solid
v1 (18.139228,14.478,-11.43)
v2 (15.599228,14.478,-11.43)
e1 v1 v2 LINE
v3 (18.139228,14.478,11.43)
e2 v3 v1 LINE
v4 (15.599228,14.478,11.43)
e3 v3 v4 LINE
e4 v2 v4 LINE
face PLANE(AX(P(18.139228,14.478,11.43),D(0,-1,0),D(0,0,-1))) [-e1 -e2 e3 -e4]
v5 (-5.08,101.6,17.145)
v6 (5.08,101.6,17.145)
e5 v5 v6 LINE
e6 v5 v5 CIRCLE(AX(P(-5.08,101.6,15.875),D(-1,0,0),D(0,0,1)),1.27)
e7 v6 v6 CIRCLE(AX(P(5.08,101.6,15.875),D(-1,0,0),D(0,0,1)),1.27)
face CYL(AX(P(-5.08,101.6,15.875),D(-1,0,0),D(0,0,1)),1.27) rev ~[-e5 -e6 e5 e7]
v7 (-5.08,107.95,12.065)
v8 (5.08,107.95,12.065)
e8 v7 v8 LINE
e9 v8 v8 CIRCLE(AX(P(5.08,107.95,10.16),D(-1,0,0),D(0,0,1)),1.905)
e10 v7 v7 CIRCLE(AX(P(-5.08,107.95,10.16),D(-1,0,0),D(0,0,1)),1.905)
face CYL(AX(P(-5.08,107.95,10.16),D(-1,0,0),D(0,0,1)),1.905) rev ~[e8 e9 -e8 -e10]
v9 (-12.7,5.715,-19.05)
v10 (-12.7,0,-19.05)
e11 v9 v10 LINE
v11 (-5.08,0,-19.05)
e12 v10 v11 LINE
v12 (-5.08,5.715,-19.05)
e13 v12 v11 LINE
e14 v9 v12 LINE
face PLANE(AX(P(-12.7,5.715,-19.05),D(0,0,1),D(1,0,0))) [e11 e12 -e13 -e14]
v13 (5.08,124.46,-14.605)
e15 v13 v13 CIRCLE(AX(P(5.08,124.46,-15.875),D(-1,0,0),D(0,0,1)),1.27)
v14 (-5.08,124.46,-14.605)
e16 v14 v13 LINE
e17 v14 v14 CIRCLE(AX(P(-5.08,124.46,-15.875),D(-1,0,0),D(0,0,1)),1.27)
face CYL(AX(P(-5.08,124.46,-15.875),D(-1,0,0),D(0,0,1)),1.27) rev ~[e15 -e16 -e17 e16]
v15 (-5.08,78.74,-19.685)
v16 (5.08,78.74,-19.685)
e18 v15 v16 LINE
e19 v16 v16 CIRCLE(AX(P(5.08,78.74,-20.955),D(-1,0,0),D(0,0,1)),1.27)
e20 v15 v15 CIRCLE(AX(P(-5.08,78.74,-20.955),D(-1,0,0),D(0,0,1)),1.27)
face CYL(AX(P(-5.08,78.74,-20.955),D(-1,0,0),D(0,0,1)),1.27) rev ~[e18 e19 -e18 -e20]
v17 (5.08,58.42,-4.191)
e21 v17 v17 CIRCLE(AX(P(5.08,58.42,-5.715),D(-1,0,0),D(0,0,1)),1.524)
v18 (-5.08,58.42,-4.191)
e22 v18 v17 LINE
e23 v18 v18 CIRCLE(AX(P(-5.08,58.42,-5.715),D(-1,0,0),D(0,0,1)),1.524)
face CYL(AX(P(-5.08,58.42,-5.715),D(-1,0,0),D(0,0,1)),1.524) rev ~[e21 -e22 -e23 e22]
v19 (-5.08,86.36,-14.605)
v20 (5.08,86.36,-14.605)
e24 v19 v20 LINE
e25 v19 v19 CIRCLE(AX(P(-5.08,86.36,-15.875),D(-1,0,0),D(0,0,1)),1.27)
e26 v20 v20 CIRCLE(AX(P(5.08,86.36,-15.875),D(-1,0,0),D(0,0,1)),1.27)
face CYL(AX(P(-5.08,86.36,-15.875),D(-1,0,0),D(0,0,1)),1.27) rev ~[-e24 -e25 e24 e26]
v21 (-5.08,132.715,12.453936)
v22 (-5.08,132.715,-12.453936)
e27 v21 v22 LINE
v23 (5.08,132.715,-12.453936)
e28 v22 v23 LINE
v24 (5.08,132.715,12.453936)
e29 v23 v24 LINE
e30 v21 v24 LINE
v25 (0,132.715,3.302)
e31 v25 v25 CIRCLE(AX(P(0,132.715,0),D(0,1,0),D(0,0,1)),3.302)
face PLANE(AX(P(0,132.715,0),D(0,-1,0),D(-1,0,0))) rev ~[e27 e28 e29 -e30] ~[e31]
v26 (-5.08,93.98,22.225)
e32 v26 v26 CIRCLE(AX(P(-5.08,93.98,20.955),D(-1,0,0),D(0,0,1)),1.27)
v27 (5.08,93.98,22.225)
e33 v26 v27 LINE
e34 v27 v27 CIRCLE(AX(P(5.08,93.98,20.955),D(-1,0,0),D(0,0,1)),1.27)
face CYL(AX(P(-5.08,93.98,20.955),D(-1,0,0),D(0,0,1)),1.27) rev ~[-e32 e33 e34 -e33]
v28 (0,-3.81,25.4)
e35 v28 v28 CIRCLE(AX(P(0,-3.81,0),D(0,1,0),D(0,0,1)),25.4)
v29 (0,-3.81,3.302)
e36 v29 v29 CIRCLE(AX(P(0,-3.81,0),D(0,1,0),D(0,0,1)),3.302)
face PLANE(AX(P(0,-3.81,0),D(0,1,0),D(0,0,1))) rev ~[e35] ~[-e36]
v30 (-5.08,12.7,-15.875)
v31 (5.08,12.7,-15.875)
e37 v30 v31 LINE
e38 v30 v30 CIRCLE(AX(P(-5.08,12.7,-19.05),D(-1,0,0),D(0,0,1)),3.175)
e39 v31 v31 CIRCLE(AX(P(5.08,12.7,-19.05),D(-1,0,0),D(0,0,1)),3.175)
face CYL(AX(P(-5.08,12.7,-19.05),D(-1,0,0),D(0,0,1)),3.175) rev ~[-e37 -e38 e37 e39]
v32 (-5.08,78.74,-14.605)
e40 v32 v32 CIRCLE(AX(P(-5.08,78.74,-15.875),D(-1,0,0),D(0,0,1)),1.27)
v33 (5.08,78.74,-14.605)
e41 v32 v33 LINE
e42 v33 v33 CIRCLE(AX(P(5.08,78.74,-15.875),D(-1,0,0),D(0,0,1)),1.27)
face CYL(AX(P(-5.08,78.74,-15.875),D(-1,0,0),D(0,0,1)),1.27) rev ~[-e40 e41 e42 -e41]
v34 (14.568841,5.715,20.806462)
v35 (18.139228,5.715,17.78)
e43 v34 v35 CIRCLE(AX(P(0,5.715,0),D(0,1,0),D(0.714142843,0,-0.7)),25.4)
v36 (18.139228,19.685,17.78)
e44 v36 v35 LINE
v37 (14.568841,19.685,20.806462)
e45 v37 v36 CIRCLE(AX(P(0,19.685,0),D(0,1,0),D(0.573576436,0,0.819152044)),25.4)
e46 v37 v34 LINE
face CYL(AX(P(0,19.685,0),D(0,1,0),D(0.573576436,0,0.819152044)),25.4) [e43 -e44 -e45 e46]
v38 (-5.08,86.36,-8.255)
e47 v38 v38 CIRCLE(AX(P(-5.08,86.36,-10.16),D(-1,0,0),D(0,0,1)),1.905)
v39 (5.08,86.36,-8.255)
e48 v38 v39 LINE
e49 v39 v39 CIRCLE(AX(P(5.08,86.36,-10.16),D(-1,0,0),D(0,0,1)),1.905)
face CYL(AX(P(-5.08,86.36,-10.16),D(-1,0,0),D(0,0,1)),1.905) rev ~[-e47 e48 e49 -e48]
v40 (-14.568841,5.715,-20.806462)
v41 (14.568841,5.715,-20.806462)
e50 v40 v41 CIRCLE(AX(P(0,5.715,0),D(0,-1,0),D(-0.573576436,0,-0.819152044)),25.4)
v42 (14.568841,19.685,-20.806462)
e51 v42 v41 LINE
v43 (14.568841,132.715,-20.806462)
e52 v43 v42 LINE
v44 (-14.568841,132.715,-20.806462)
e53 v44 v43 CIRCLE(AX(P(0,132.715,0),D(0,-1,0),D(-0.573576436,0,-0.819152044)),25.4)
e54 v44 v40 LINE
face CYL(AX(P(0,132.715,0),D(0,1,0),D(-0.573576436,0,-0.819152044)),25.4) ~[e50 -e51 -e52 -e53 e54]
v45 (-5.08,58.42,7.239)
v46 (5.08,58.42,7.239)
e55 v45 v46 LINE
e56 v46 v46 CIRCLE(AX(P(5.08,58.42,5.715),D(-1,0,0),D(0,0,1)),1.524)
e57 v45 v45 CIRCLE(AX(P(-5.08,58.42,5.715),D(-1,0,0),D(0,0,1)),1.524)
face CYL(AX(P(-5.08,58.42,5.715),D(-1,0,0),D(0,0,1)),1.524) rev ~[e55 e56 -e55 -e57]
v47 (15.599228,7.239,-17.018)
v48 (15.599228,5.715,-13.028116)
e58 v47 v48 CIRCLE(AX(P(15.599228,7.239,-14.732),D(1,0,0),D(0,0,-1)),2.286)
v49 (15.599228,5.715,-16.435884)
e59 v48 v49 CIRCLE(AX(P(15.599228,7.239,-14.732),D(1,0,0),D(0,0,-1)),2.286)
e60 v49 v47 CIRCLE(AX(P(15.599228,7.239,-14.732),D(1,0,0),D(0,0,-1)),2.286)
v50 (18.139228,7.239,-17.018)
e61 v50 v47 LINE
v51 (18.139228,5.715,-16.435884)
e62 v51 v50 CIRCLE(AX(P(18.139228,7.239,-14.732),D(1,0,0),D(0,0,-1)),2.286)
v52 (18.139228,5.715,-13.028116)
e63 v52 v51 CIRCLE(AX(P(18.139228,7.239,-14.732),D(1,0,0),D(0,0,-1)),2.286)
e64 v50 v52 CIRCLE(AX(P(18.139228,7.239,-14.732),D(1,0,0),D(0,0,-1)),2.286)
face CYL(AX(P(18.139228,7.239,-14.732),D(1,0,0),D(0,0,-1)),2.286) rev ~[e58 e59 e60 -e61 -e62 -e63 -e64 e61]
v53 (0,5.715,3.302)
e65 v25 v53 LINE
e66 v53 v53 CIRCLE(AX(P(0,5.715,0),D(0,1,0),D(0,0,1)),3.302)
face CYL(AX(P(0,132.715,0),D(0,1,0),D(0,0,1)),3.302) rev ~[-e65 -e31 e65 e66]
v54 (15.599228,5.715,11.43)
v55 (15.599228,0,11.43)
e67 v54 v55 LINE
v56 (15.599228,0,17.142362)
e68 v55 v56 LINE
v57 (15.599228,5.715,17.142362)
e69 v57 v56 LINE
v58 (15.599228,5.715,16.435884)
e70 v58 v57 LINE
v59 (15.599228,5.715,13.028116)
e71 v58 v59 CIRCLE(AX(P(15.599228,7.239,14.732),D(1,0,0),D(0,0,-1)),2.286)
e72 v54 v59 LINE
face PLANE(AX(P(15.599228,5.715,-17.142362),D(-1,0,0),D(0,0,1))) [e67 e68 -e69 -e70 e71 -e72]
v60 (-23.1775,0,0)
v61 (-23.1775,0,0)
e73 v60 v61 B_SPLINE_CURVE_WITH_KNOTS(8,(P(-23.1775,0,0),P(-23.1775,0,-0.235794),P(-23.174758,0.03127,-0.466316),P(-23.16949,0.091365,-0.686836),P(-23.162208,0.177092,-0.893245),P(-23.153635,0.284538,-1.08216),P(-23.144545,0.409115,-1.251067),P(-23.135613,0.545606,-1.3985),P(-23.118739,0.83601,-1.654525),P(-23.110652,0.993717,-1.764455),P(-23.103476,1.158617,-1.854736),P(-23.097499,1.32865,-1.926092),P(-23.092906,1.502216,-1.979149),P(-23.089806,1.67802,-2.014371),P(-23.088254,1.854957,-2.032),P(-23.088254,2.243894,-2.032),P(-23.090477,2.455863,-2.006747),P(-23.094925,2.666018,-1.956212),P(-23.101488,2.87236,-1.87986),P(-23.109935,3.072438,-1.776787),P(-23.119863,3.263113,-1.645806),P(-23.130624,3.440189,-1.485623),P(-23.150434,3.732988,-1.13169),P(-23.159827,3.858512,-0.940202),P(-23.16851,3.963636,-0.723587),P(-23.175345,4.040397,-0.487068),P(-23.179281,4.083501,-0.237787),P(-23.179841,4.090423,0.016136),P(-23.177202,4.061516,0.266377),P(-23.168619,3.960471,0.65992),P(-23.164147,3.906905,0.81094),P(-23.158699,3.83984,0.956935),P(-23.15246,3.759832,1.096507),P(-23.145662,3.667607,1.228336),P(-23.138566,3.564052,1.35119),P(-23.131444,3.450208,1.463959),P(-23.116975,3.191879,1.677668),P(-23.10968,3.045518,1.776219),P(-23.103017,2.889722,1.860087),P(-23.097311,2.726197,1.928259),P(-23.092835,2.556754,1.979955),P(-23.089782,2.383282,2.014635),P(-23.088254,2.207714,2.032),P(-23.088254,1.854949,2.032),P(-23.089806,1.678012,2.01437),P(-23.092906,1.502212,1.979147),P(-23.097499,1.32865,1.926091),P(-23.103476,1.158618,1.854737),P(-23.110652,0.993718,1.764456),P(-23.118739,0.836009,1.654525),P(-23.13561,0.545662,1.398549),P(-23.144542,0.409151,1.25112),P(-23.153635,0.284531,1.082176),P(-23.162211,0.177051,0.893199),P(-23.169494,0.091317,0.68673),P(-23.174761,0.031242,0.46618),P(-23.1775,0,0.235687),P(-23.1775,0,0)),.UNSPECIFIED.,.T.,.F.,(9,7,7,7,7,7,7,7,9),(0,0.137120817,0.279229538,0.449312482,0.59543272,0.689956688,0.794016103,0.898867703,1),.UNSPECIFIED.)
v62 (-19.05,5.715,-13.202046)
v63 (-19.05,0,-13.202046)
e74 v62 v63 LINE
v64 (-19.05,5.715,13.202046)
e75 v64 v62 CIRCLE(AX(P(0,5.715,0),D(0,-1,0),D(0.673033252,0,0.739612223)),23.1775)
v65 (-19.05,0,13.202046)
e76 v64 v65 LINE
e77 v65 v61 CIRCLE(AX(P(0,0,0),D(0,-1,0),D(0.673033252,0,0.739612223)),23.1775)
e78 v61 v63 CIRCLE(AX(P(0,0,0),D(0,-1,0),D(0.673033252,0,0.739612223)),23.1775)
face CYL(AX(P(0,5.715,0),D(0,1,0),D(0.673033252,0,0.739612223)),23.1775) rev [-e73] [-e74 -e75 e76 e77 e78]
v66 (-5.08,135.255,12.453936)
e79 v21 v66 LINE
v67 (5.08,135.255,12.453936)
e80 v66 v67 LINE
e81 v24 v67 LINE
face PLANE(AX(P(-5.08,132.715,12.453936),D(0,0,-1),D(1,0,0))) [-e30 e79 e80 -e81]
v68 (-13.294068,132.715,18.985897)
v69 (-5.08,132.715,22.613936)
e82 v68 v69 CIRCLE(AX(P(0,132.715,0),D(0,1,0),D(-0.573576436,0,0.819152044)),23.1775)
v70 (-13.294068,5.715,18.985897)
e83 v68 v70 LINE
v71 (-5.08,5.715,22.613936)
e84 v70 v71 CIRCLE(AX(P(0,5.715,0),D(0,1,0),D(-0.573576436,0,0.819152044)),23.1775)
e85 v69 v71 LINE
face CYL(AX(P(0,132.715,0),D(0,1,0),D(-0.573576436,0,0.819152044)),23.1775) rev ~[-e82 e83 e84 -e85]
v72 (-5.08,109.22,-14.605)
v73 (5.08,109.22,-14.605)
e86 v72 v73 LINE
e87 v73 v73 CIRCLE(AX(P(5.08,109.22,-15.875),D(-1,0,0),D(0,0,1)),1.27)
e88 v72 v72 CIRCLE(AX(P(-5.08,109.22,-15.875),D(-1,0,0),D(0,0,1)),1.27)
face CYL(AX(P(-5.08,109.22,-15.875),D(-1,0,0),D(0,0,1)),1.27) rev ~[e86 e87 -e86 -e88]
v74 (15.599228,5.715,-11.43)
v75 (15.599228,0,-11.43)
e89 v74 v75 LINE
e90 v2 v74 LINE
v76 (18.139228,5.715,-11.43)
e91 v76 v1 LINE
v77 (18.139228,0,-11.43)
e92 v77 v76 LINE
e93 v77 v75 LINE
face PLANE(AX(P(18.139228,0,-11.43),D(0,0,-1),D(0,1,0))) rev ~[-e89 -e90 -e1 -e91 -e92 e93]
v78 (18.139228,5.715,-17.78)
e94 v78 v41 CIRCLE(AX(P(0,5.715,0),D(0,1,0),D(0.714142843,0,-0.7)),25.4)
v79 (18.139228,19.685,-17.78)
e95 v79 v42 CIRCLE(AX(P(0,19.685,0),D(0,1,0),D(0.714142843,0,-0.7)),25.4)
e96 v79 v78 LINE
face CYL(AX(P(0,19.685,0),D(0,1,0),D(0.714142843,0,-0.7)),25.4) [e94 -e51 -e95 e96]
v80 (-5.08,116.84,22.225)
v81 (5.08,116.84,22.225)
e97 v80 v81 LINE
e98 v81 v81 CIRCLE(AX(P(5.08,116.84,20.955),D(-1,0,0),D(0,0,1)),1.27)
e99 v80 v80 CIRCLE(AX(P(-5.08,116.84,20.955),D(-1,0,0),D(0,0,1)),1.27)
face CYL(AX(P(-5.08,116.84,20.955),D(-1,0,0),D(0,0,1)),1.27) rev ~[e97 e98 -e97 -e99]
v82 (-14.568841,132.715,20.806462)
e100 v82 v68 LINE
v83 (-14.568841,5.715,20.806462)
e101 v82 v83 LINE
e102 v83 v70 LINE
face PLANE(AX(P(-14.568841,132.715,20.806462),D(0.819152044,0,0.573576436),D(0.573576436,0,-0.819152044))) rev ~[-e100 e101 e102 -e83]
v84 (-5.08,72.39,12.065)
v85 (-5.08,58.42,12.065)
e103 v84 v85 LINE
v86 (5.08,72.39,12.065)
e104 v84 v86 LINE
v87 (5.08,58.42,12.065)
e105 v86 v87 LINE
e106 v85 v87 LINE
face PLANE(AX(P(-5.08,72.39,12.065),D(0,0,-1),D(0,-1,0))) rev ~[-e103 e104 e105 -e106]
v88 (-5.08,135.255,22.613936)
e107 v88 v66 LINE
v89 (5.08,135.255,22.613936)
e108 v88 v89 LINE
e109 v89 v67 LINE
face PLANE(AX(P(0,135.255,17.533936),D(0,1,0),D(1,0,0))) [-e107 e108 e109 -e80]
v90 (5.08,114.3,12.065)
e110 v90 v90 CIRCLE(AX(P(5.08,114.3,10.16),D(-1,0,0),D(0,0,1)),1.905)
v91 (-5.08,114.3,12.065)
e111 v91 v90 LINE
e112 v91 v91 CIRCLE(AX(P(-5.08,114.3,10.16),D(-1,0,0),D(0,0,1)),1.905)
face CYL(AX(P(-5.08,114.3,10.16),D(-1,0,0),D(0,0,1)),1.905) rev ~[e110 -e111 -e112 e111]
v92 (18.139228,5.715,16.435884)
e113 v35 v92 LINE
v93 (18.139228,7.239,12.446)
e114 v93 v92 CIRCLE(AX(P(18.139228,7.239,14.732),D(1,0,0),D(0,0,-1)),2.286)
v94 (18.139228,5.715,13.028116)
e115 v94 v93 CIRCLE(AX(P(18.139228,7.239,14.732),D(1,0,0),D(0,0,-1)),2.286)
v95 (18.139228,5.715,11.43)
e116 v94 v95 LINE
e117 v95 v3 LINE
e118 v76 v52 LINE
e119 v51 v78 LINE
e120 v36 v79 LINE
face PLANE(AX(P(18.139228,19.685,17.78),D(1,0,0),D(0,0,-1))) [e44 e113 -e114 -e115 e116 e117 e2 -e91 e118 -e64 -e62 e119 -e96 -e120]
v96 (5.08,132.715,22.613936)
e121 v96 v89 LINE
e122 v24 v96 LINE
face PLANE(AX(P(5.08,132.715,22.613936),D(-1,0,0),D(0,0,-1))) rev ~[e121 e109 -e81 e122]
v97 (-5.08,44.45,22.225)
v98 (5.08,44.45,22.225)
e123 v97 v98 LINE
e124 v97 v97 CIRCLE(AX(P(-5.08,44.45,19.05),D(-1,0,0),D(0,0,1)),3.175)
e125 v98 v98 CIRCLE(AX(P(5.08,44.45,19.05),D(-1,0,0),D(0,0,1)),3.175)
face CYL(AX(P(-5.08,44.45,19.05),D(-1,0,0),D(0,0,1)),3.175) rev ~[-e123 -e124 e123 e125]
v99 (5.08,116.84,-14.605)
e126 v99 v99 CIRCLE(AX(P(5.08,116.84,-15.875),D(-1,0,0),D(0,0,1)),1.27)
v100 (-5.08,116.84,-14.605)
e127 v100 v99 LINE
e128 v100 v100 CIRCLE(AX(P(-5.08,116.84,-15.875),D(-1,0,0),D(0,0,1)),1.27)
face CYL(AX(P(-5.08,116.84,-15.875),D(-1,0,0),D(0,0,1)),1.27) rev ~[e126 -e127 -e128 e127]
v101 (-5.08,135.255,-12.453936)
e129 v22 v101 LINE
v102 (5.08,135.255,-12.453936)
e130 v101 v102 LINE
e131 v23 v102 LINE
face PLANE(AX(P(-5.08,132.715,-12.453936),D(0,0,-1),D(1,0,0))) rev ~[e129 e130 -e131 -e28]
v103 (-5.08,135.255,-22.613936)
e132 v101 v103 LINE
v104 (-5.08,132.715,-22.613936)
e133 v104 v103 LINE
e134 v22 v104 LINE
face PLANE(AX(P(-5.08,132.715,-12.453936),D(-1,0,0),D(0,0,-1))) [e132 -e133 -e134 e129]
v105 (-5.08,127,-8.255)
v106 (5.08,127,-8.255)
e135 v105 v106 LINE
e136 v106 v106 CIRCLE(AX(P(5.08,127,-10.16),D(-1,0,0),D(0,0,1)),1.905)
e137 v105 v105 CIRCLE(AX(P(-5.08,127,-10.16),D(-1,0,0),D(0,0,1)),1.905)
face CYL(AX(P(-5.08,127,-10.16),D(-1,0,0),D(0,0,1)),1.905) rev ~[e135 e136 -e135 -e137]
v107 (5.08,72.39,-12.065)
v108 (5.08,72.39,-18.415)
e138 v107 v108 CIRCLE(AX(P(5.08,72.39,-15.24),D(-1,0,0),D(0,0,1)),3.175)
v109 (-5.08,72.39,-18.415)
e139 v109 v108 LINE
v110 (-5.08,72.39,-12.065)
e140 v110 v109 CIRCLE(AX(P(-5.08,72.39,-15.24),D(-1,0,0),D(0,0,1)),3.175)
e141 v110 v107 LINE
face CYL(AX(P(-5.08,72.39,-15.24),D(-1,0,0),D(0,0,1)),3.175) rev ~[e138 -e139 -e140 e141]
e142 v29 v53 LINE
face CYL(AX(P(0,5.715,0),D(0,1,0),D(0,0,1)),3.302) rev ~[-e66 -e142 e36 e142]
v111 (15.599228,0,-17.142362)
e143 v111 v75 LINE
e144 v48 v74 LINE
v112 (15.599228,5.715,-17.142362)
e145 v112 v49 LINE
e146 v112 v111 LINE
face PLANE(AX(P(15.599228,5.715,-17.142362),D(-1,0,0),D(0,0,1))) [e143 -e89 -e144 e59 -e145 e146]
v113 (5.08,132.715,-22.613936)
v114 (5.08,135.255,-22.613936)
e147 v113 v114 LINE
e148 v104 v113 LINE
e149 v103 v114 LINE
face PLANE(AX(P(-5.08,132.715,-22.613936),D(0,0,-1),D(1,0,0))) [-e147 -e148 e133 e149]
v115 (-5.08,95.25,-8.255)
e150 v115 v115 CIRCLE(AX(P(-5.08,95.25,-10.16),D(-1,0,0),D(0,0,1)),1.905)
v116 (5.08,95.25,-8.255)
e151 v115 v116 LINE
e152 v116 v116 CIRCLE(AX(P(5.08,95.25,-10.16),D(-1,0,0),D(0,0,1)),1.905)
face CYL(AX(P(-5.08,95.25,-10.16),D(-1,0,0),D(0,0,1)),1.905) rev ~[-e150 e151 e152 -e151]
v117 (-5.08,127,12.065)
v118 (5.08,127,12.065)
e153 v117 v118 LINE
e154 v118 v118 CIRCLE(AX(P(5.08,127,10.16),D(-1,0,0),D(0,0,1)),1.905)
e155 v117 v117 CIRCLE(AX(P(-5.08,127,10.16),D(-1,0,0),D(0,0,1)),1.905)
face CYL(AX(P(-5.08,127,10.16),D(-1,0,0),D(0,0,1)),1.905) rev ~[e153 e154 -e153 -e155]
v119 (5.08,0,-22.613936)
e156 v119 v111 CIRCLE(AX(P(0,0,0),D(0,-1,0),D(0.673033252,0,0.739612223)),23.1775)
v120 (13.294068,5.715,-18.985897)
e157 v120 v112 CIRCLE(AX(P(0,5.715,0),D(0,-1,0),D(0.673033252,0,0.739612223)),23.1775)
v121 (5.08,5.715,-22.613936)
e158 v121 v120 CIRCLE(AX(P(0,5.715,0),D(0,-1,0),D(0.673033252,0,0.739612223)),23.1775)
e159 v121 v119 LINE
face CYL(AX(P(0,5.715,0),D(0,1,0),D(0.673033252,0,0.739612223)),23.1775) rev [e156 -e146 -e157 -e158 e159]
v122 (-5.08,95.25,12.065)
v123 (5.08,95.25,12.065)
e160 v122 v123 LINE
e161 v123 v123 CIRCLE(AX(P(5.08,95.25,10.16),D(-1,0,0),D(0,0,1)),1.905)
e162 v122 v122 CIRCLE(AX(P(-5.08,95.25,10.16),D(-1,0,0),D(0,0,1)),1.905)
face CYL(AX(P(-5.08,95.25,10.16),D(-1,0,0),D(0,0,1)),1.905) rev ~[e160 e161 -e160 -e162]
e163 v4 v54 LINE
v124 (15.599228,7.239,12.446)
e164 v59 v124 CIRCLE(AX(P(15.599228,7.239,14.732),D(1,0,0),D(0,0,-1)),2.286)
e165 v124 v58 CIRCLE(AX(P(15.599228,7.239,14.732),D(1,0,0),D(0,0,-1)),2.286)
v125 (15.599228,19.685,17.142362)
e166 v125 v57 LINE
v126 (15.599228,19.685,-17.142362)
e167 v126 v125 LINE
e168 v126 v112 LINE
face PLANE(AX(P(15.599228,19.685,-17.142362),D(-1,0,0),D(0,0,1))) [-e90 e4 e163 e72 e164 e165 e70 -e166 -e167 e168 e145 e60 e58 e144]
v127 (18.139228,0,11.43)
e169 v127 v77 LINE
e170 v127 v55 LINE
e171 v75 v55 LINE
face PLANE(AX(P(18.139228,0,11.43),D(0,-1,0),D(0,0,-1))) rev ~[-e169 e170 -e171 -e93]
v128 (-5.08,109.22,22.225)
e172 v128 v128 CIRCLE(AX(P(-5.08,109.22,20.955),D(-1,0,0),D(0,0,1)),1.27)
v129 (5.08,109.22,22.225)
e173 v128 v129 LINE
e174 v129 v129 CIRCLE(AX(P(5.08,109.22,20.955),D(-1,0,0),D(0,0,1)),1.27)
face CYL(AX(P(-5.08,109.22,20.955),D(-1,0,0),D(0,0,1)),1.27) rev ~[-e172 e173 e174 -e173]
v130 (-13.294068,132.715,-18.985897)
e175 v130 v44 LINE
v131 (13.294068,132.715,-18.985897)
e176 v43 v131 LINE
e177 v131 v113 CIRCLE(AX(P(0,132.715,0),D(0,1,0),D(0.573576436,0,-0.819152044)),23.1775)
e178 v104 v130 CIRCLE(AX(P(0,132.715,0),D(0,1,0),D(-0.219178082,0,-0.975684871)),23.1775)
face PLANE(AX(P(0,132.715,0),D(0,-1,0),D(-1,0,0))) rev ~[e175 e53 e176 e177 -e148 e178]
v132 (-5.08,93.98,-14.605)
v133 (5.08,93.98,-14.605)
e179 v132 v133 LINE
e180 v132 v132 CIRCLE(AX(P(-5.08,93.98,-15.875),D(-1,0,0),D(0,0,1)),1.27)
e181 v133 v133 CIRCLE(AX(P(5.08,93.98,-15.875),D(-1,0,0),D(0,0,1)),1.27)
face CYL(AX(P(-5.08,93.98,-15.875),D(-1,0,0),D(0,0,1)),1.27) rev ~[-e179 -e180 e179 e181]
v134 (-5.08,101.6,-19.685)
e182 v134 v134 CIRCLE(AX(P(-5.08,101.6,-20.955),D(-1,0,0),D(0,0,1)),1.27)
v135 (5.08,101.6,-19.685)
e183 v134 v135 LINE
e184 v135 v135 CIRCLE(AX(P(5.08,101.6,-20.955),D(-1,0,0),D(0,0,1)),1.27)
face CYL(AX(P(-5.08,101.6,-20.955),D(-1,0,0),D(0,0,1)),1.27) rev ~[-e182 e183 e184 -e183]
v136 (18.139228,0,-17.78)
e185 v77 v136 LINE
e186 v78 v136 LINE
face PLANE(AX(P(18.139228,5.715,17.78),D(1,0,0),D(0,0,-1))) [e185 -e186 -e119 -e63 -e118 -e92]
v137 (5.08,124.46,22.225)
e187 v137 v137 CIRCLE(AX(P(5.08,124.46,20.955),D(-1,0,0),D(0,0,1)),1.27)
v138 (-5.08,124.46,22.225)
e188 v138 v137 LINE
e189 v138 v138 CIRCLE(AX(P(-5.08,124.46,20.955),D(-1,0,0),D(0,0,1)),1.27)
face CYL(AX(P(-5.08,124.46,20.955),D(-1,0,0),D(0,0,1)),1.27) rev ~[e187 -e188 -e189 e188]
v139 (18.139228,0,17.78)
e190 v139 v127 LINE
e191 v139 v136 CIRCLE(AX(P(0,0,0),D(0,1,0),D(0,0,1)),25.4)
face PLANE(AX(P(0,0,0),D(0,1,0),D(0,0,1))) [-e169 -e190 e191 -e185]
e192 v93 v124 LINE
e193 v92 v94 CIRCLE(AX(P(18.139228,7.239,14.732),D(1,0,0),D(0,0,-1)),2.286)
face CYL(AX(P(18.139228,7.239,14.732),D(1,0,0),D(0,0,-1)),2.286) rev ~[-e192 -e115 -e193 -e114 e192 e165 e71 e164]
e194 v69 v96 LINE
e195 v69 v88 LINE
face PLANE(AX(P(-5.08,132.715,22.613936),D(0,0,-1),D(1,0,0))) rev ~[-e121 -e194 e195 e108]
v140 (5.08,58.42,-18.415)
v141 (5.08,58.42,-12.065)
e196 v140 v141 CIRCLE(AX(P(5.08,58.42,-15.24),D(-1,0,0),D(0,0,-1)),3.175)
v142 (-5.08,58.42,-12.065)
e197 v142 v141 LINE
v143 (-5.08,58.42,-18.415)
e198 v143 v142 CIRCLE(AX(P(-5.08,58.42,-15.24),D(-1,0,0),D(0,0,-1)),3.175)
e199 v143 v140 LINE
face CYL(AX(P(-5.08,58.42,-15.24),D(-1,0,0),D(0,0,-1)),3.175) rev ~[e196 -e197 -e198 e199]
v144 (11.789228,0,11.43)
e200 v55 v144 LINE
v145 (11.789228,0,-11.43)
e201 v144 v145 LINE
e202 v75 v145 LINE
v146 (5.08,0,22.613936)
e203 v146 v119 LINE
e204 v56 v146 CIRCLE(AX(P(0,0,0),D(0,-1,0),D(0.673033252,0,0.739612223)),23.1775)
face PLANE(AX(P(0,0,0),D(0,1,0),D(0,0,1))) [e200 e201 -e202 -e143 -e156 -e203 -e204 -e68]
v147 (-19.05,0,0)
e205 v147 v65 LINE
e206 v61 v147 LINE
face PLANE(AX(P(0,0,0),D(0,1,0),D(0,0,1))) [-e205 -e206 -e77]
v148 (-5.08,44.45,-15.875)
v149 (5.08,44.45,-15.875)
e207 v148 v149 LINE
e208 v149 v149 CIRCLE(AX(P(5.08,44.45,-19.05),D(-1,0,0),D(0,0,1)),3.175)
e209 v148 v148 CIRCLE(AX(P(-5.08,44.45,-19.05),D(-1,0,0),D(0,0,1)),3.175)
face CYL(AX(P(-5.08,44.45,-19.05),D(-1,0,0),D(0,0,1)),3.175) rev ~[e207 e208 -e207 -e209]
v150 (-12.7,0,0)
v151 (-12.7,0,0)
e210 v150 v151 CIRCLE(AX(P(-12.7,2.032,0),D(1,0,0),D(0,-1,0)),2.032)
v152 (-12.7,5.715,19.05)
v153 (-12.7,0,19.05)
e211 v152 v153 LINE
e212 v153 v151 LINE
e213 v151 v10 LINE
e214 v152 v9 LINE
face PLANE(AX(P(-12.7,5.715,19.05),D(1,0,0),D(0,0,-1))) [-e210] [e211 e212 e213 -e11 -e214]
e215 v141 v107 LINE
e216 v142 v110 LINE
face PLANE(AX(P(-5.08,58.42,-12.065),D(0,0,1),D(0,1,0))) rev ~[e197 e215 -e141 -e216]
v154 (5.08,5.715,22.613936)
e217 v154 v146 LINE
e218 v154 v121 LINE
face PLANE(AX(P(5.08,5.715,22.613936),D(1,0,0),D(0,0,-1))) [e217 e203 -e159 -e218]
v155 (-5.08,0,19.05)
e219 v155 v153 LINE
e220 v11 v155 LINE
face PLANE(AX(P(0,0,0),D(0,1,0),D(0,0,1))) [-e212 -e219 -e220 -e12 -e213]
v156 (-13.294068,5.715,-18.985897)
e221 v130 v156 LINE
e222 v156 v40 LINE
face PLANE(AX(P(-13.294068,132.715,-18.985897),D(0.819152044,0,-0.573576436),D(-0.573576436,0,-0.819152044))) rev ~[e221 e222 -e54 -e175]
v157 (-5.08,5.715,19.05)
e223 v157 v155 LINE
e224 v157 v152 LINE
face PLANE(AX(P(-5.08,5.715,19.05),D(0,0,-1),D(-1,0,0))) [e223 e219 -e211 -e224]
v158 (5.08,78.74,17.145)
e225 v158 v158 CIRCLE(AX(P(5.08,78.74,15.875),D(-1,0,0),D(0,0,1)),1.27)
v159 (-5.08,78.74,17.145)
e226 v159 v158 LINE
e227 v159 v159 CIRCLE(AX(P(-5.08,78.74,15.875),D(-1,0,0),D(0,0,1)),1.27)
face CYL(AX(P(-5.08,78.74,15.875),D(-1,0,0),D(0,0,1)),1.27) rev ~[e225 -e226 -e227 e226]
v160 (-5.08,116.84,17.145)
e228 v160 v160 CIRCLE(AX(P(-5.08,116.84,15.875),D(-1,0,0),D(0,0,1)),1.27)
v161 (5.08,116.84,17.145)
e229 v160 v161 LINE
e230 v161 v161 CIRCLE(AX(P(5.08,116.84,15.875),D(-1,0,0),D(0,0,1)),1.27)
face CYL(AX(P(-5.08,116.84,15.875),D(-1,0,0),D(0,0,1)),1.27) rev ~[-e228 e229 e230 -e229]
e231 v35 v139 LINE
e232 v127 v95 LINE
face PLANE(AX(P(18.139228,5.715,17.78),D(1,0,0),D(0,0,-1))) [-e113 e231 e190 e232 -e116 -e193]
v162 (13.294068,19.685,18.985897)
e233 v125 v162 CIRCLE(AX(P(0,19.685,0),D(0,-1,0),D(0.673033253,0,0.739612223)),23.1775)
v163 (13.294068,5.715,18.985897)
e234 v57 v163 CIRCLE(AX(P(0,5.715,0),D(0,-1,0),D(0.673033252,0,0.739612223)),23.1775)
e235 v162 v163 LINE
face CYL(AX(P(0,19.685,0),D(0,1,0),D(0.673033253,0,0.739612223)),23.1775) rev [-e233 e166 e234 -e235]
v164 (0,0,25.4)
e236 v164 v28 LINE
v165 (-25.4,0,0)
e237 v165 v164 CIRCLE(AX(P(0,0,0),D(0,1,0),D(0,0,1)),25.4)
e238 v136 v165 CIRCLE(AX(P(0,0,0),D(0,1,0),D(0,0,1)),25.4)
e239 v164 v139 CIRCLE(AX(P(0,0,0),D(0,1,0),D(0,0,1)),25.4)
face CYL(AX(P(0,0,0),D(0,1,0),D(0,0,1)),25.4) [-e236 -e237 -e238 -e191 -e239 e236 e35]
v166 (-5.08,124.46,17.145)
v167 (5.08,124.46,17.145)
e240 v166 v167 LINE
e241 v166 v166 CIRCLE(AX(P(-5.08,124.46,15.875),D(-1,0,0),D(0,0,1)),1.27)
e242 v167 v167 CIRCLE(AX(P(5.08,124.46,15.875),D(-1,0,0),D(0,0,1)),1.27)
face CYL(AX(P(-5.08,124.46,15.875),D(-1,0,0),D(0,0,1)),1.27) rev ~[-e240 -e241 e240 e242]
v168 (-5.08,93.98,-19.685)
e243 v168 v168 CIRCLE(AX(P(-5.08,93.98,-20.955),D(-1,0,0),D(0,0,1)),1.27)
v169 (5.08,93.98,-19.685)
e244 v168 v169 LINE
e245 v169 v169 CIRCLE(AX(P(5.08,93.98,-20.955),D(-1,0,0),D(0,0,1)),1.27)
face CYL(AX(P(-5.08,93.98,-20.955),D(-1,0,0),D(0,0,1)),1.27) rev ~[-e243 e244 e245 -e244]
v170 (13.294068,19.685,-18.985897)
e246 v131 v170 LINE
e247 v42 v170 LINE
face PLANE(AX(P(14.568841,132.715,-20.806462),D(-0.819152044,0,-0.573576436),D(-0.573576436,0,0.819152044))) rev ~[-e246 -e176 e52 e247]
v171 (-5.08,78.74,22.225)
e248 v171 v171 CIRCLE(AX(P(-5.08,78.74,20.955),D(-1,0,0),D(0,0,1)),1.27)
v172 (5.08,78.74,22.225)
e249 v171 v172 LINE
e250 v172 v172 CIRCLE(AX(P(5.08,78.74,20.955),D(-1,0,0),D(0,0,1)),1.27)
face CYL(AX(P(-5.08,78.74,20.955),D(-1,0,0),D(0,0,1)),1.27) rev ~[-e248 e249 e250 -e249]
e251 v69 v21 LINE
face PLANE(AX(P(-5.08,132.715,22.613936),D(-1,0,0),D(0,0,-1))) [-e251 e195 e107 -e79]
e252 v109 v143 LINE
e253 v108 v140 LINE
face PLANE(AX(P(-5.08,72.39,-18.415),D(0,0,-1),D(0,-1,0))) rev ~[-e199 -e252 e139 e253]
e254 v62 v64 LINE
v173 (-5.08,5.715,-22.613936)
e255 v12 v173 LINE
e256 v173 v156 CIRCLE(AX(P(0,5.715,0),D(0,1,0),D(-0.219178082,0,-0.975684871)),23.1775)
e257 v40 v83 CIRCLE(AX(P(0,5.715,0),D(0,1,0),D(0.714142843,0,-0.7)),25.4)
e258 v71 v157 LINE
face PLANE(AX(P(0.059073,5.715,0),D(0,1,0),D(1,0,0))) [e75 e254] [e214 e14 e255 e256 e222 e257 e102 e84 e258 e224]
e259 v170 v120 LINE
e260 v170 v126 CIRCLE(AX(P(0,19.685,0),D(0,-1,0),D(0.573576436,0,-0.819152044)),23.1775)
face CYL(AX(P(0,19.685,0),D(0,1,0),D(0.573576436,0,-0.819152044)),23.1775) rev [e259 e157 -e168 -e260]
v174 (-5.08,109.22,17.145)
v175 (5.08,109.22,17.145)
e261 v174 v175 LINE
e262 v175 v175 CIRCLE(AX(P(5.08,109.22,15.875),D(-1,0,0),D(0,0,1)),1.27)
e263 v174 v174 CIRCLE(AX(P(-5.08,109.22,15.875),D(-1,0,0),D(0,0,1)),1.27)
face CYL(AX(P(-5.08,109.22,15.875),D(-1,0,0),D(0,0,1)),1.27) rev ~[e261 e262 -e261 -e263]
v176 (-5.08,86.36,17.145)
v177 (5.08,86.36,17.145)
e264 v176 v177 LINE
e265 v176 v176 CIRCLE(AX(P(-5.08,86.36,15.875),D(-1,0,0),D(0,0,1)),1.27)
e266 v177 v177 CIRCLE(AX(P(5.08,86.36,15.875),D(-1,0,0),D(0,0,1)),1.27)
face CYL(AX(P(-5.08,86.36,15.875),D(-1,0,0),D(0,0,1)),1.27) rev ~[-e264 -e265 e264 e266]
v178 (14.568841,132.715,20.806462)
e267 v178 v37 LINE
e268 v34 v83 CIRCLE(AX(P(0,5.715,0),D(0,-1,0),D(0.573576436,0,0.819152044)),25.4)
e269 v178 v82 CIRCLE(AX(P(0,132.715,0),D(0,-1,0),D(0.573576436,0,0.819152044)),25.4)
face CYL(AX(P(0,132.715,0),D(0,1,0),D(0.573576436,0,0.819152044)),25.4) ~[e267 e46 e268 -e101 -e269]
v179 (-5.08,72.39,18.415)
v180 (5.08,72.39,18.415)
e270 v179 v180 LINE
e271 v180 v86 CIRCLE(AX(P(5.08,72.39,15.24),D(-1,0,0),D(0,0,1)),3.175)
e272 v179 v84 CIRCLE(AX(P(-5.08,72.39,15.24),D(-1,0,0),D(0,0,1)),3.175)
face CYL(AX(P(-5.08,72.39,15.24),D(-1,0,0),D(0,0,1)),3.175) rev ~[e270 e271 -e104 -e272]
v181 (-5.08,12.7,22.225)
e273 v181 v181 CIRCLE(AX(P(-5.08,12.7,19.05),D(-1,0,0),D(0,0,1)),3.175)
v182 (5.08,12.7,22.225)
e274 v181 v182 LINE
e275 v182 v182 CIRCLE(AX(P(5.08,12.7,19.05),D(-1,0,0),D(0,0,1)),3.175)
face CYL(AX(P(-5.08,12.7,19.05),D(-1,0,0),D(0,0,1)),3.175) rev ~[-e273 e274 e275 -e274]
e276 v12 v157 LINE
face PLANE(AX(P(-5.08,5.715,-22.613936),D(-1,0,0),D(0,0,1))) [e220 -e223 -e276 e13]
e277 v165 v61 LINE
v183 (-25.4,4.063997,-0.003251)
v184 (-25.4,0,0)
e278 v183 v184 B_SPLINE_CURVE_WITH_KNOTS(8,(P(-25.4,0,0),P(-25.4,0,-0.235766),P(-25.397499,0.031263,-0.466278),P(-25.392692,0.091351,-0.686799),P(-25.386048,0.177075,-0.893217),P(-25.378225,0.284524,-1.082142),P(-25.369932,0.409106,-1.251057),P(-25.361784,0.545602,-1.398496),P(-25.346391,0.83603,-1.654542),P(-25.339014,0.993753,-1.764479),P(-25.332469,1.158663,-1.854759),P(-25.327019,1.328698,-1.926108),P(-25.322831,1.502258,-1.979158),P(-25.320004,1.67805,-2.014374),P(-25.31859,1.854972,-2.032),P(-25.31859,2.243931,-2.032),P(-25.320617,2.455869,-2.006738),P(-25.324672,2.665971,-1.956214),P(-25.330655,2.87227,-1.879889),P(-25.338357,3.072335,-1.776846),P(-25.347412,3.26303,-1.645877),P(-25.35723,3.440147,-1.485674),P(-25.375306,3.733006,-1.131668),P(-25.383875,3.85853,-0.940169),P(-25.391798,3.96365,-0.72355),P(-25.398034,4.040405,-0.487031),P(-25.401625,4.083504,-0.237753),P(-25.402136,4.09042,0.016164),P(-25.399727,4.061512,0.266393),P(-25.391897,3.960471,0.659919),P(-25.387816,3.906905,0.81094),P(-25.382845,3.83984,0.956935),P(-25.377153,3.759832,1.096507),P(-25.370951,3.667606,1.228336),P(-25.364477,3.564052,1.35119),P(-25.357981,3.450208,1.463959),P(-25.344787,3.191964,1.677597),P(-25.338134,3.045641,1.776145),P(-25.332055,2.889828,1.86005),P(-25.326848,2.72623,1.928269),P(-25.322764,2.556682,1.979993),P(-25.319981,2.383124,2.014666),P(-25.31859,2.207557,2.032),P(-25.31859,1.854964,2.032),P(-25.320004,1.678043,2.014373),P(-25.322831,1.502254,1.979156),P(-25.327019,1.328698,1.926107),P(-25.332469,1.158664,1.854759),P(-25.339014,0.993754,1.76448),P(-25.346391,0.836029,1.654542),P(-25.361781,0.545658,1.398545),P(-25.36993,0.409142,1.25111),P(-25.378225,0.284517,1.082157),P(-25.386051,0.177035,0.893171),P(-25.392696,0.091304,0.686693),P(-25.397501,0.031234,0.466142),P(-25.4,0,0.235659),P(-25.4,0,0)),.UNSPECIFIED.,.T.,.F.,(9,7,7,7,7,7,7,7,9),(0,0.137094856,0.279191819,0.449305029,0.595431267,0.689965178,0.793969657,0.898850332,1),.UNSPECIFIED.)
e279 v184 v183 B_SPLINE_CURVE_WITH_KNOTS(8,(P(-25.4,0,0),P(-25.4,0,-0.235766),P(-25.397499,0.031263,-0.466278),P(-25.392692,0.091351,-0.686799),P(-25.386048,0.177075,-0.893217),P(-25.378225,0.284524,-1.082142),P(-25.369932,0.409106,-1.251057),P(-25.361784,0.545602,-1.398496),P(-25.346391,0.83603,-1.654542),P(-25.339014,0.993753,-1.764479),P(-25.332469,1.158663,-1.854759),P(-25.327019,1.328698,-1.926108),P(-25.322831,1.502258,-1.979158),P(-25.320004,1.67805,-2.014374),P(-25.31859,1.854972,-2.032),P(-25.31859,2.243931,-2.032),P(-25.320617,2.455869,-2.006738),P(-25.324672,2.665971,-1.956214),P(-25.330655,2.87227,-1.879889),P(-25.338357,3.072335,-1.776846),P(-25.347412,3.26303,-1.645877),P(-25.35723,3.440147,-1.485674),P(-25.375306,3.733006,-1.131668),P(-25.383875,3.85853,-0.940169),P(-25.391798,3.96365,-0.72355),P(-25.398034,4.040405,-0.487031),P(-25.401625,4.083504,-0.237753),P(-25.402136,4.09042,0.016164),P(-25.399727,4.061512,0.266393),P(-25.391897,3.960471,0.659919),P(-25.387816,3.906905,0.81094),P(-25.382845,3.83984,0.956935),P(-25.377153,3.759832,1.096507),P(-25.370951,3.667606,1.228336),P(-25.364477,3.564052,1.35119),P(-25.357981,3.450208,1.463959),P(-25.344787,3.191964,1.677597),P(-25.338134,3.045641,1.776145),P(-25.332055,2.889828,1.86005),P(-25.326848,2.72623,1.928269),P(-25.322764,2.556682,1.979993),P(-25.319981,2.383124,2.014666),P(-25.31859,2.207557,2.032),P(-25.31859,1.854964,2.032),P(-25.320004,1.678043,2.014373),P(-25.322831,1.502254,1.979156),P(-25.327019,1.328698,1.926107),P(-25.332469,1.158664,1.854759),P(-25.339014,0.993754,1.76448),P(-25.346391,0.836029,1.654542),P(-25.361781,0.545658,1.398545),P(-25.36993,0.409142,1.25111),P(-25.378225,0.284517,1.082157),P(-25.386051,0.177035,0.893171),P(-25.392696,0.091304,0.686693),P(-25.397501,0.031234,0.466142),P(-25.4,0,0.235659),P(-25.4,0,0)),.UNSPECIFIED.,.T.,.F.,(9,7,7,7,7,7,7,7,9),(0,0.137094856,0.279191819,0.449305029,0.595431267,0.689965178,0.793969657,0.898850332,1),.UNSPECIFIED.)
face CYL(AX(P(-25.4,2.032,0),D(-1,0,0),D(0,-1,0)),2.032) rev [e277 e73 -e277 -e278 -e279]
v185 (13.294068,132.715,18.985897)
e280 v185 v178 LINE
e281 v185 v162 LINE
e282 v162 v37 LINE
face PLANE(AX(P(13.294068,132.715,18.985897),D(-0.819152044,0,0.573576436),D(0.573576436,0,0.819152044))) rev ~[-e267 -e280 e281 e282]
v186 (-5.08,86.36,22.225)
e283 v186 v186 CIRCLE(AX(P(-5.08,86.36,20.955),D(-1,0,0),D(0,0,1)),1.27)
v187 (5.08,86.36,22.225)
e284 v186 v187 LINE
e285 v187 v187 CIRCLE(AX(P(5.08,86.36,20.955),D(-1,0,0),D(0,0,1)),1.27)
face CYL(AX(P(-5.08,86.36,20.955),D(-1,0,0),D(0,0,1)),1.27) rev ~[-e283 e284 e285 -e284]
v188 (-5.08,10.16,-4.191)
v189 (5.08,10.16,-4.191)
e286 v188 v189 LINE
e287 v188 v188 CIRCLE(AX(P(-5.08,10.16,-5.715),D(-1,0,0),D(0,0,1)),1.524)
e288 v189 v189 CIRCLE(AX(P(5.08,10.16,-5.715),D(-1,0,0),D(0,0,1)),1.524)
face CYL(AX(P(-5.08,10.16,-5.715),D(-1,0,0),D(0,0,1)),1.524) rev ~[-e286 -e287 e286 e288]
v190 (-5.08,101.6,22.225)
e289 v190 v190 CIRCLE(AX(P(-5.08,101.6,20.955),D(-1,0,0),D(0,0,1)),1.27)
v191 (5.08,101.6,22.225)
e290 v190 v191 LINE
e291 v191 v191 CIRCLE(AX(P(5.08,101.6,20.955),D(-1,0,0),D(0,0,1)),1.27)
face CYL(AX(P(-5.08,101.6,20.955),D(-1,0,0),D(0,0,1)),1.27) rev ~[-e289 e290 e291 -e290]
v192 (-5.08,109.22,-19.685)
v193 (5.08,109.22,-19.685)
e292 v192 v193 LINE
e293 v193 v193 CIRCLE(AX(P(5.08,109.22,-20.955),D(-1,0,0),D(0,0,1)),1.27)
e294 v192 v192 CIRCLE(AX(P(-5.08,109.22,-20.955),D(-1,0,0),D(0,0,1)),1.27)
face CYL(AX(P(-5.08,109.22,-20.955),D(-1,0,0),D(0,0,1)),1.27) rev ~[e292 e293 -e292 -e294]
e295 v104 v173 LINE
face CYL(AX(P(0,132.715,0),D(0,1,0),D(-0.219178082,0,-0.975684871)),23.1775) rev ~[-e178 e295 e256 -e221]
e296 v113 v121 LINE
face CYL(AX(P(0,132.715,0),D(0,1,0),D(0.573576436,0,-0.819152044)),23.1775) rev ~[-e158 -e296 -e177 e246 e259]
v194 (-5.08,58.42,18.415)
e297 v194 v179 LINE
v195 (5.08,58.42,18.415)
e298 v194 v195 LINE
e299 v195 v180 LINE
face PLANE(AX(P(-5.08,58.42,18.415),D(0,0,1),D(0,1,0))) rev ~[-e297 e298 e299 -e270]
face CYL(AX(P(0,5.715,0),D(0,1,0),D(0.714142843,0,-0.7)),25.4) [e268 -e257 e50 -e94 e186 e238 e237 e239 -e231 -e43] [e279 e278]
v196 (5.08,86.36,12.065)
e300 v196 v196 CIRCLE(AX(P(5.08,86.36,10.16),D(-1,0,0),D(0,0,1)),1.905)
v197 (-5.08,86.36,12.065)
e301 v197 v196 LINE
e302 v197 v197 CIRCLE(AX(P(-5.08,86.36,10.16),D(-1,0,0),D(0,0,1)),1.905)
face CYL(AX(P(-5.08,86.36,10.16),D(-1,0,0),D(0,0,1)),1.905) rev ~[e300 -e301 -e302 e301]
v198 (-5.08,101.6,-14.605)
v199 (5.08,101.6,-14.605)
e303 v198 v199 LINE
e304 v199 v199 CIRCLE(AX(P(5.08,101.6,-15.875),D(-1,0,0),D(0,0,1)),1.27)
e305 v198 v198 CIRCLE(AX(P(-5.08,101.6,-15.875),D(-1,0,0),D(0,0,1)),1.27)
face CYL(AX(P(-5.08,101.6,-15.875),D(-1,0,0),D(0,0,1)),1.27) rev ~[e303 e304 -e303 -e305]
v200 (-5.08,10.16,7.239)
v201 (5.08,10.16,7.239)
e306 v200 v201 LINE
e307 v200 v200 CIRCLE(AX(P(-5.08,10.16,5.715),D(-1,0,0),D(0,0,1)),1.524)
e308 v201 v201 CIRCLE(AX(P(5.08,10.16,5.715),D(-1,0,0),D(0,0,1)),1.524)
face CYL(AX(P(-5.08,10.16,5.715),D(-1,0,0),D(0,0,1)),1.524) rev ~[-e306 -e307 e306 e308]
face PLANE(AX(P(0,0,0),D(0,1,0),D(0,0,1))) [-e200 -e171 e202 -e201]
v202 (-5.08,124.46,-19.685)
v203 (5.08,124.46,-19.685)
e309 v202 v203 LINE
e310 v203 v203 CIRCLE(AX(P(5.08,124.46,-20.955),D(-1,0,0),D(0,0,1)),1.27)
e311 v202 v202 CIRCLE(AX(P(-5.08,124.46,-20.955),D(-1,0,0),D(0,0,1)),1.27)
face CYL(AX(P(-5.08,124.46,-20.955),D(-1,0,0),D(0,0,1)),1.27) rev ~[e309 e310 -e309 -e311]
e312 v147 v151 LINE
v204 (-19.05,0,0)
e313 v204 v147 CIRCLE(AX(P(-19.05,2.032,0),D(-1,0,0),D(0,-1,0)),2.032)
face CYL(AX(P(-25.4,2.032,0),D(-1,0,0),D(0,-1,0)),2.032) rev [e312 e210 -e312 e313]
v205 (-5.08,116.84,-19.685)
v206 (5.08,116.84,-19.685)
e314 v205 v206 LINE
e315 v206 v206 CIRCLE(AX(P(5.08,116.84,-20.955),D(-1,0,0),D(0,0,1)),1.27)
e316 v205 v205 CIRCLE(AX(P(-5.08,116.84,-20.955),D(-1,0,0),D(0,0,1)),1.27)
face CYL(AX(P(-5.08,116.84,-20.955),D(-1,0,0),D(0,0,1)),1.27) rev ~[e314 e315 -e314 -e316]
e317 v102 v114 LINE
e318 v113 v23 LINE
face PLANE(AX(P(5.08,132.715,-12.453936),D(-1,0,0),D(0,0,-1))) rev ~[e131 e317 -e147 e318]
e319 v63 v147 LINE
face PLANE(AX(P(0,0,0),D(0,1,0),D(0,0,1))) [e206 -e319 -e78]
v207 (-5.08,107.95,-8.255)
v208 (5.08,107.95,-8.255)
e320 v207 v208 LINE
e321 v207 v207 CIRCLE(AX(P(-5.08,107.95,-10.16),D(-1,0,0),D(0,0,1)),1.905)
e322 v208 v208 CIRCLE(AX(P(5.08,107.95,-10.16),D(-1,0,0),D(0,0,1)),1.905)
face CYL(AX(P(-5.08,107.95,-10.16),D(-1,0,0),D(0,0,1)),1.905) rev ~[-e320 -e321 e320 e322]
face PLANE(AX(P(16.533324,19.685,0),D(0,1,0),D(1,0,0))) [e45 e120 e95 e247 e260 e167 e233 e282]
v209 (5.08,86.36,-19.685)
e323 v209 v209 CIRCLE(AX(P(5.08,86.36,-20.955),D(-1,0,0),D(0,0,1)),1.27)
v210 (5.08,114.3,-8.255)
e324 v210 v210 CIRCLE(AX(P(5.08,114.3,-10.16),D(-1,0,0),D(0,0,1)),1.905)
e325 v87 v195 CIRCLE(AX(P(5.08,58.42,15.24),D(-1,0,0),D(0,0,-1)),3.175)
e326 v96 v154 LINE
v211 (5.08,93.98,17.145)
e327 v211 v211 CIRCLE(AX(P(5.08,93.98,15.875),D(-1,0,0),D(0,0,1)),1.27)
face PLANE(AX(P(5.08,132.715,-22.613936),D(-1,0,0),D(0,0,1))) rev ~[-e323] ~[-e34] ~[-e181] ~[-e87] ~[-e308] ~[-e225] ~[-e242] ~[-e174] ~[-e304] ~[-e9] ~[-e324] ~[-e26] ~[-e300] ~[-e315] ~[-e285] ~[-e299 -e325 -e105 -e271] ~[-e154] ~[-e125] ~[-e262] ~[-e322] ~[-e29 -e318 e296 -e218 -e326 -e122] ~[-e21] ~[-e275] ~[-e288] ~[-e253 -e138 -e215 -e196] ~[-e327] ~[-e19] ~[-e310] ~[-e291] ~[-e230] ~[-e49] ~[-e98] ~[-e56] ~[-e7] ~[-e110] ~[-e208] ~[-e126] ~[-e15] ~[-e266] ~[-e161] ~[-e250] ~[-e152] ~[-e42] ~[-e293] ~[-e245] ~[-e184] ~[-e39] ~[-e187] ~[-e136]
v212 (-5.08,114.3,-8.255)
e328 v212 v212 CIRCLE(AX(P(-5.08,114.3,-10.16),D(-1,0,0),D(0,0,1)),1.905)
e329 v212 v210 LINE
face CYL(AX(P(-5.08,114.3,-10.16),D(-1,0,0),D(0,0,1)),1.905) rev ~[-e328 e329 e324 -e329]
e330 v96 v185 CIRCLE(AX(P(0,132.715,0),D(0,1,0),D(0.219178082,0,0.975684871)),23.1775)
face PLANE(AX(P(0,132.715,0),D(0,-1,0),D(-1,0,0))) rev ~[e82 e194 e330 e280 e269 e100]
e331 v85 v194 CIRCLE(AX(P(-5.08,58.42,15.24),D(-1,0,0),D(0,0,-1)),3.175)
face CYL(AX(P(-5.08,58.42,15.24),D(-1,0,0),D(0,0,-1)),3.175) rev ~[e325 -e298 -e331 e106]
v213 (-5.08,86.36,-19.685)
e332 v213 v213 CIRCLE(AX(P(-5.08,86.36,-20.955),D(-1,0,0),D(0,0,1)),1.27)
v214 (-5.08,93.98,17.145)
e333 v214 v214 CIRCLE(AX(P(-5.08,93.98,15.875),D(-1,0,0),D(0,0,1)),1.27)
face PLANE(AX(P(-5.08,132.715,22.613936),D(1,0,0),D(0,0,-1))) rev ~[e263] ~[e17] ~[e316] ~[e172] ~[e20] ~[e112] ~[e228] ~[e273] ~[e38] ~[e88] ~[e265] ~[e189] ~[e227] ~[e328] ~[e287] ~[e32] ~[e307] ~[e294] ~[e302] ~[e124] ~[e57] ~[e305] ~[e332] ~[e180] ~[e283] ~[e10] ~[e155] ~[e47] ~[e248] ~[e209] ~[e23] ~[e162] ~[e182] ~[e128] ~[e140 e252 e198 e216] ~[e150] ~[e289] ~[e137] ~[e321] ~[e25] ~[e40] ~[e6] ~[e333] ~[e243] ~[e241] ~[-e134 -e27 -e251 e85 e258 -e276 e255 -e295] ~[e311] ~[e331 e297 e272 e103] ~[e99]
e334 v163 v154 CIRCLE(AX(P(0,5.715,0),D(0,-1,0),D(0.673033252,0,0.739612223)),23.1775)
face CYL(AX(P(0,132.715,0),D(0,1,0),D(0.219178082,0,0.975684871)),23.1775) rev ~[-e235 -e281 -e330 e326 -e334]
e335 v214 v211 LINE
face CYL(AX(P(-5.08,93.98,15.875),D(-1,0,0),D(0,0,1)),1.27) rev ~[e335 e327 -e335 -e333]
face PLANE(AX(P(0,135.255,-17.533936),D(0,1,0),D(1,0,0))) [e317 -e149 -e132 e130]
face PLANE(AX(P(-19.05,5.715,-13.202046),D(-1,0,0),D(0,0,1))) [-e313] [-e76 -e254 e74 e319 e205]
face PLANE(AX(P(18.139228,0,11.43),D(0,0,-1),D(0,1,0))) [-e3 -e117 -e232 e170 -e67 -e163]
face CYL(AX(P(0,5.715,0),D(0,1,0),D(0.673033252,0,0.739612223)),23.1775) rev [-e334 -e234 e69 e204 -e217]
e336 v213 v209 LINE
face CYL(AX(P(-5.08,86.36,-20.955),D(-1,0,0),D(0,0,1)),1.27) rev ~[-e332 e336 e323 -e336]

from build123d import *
from build123d.topology import SkipClean

# Parameters (mm, degrees)
SKETCH1_R            = 25.4
SKETCH1_R_2          = 3.302
BOTTOM_PLATE_DEPTH   = 3.81
LIP_START            = 5.715
SKETCH1_4_R          = 3.302
LIP_DEPTH            = 5.715
BOSS_EXTRUDE1_START  = 127
SKETCH2_R            = 3.302
BOSS_EXTRUDE1_DEPTH  = 127
SKETCH3_R            = 3.175
SKETCH3_R_2          = 1.524
SKETCH3_R_3          = 1.905
SKETCH3_R_4          = 1.27
MOUNTING_HOLES_DEPTH = 10.16
SKETCH4_W            = 10.16
SKETCH4_H            = 10.16
NOTCHES_DEPTH        = 2.54
SWITCH_FACE_START    = 13.97
SWITCH_FACE_DEPTH    = 13.97
SKETCH8_R            = 2.286
SKETCH8_W            = 22.86
SKETCH8_H            = 14.478
SWITCH_MOUNT_DEPTH   = 6.35
INDICATOR_CUT_START  = -43.539228
SKETCH8_3_R          = 2.032
INDICATOR_CUT_DEPTH  = 12.7


with BuildPart() as part:
    # Sketch1 → bottom_plate (new body)
    with BuildSketch(Plane(origin=(0, 0, 0), x_dir=(1, 0, 0), z_dir=(0, 1, 0))):
        with Locations(Location((0, 0, 0), (0, 0, 270))):
            Circle(SKETCH1_R)
        with Locations(Location((0, 0, 0), (0, 0, 270))):
            Circle(SKETCH1_R_2, mode=Mode.SUBTRACT)
    extrude(amount=-BOTTOM_PLATE_DEPTH)

    # Sketch1<4> → lip (add)
    # profile 1 of 3: a face of its own
    with BuildSketch(Plane(origin=(0, 0, 0), x_dir=(1, 0, 0), z_dir=(0, 1, 0)).offset(LIP_START)):
        with BuildLine():
            Line((18.139228208, -17.78), (18.139228208, 17.78))
            ThreePointArc((18.139228208, 17.78), (-25.4, 0), (18.139228208, -17.78))
        make_face()
        with BuildLine():
            ThreePointArc((15.599228208, -17.142362309), (-23.1775, 0), (15.599228208, 17.142362309))
            Line((15.599228208, 17.142362309), (15.599228208, -17.142362309))
        make_face(mode=Mode.SUBTRACT)
    # profile 2 of 3: a face of its own
    with BuildSketch(Plane(origin=(0, 0, 0), x_dir=(1, 0, 0), z_dir=(0, 1, 0)).offset(LIP_START)):
        with BuildLine():
            ThreePointArc((5.08, 22.613936107), (0, 23.1775), (-5.08, 22.613936107))
            Line((-5.08, 22.613936107), (-5.08, 19.05))
            Line((-5.08, 19.05), (-5.08, -19.05))
            Line((-5.08, -19.05), (-5.08, -22.613936107))
            ThreePointArc((-5.08, -22.613936107), (0, -23.1775), (5.08, -22.613936107))
            Line((5.08, -22.613936107), (5.08, 22.613936107))
        make_face()
        with Locations(Location((0, 0, 0), (0, 0, 270))):
            Circle(SKETCH1_4_R, mode=Mode.SUBTRACT)
    # profile 3 of 3: a face of its own
    with BuildSketch(Plane(origin=(0, 0, 0), x_dir=(1, 0, 0), z_dir=(0, 1, 0)).offset(LIP_START)):
        with BuildLine():
            Line((-5.08, 19.05), (-5.08, 22.613936107))
            ThreePointArc((-5.08, 22.613936107), (-12.950295211, 19.222027994), (-19.05, 13.202045533))
            Line((-19.05, 13.202045533), (-19.05, -13.202045533))
            ThreePointArc((-19.05, -13.202045533), (-12.950295211, -19.222027994), (-5.08, -22.613936107))
            Line((-5.08, -22.613936107), (-5.08, -19.05))
            Line((-5.08, -19.05), (-12.7, -19.05))
            Line((-12.7, -19.05), (-12.7, 19.05))
            Line((-12.7, 19.05), (-5.08, 19.05))
        make_face()
    extrude(amount=-LIP_DEPTH)

    # Sketch2 → Boss-Extrude1 (add)
    with SkipClean():  # the faces are left unmerged after this step: merging them gives an invalid solid
        with BuildSketch(Plane(origin=(0, 5.715, 0), x_dir=(1, 0, 0), z_dir=(0, 1, 0)).offset(BOSS_EXTRUDE1_START)):
            with BuildLine():
                Line((5.08, 22.613936107), (5.08, -22.613936107))
                ThreePointArc((5.08, -22.613936107), (9.364414568, -21.201515183), (13.294067854, -18.985896507))
                Line((13.294067854, -18.985896507), (14.568841483, -20.806461925))
                ThreePointArc((14.568841483, -20.806461925), (0, -25.4), (-14.568841483, -20.806461925))
                Line((-14.568841483, -20.806461925), (-13.294067854, -18.985896507))
                ThreePointArc((-13.294067854, -18.985896507), (-9.364414568, -21.201515183), (-5.08, -22.613936107))
                Line((-5.08, -22.613936107), (-5.08, 22.613936107))
                ThreePointArc((-5.08, 22.613936107), (-9.364414568, 21.201515183), (-13.294067854, 18.985896507))
                Line((-13.294067854, 18.985896507), (-14.568841483, 20.806461925))
                ThreePointArc((-14.568841483, 20.806461925), (0, 25.4), (14.568841483, 20.806461925))
                Line((14.568841483, 20.806461925), (13.294067854, 18.985896507))
                ThreePointArc((13.294067854, 18.985896507), (9.364414568, 21.201515183), (5.08, 22.613936107))
            make_face()
            with Locations(Location((0, 0, 0), (0, 0, 270))):
                Circle(SKETCH2_R, mode=Mode.SUBTRACT)
        extrude(amount=-BOSS_EXTRUDE1_DEPTH)

    # Sketch3 → mounting_holes (cut)
    with SkipClean():  # the faces are left unmerged after this step: merging them gives an invalid solid
        with BuildSketch(Plane.ZY.offset(5.08)):
            with BuildLine():
                Line((18.415, 58.42), (18.415, 72.39))
                ThreePointArc((18.415, 72.39), (15.24, 75.565), (12.065, 72.39))
                Line((12.065, 72.39), (12.065, 58.42))
                ThreePointArc((12.065, 58.42), (15.24, 55.245), (18.415, 58.42))
            make_face()
            with BuildLine():
                Line((-12.065, 58.42), (-12.065, 72.39))
                ThreePointArc((-12.065, 72.39), (-15.24, 75.565), (-18.415, 72.39))
                Line((-18.415, 72.39), (-18.415, 58.42))
                ThreePointArc((-18.415, 58.42), (-15.24, 55.245), (-12.065, 58.42))
            make_face()
            with Locations((-19.05, 44.45)):
                Circle(SKETCH3_R)
            with Locations((19.05, 44.45)):
                Circle(SKETCH3_R)
            with Locations((-19.05, 12.7)):
                Circle(SKETCH3_R)
            with Locations((19.05, 12.7)):
                Circle(SKETCH3_R)
            with Locations((-5.715, 58.42)):
                Circle(SKETCH3_R_2)
            with Locations((5.715, 58.42)):
                Circle(SKETCH3_R_2)
            with Locations((-5.715, 10.16)):
                Circle(SKETCH3_R_2)
            with Locations((5.715, 10.16)):
                Circle(SKETCH3_R_2)
            with Locations((10.16, 86.36)):
                Circle(SKETCH3_R_3)
            with Locations((-10.16, 86.36)):
                Circle(SKETCH3_R_3)
            with Locations((-10.16, 107.95)):
                Circle(SKETCH3_R_3)
            with Locations((-10.16, 95.25)):
                Circle(SKETCH3_R_3)
            with Locations((10.16, 107.95)):
                Circle(SKETCH3_R_3)
            with Locations((10.16, 95.25)):
                Circle(SKETCH3_R_3)
            with Locations((-10.16, 127)):
                Circle(SKETCH3_R_3)
            with Locations((-10.16, 114.3)):
                Circle(SKETCH3_R_3)
            with Locations((10.16, 114.3)):
                Circle(SKETCH3_R_3)
            with Locations((10.16, 127)):
                Circle(SKETCH3_R_3)
            with Locations((-20.955, 78.74)):
                Circle(SKETCH3_R_4)
            with Locations((-15.875, 78.74)):
                Circle(SKETCH3_R_4)
            with Locations((-20.955, 86.36)):
                Circle(SKETCH3_R_4)
            with Locations((-15.875, 86.36)):
                Circle(SKETCH3_R_4)
            with Locations((-20.955, 93.98)):
                Circle(SKETCH3_R_4)
            with Locations((-15.875, 93.98)):
                Circle(SKETCH3_R_4)
            with Locations((-20.955, 101.6)):
                Circle(SKETCH3_R_4)
            with Locations((-15.875, 101.6)):
                Circle(SKETCH3_R_4)
            with Locations((-20.955, 109.22)):
                Circle(SKETCH3_R_4)
            with Locations((-15.875, 109.22)):
                Circle(SKETCH3_R_4)
            with Locations((-20.955, 116.84)):
                Circle(SKETCH3_R_4)
            with Locations((-15.875, 116.84)):
                Circle(SKETCH3_R_4)
            with Locations((-20.955, 124.46)):
                Circle(SKETCH3_R_4)
            with Locations((-15.875, 124.46)):
                Circle(SKETCH3_R_4)
            with Locations((20.955, 124.46)):
                Circle(SKETCH3_R_4)
            with Locations((15.875, 124.46)):
                Circle(SKETCH3_R_4)
            with Locations((15.875, 116.84)):
                Circle(SKETCH3_R_4)
            with Locations((20.955, 116.84)):
                Circle(SKETCH3_R_4)
            with Locations((20.955, 109.22)):
                Circle(SKETCH3_R_4)
            with Locations((15.875, 109.22)):
                Circle(SKETCH3_R_4)
            with Locations((15.875, 101.6)):
                Circle(SKETCH3_R_4)
            with Locations((20.955, 101.6)):
                Circle(SKETCH3_R_4)
            with Locations((20.955, 93.98)):
                Circle(SKETCH3_R_4)
            with Locations((15.875, 93.98)):
                Circle(SKETCH3_R_4)
            with Locations((20.955, 86.36)):
                Circle(SKETCH3_R_4)
            with Locations((15.875, 86.36)):
                Circle(SKETCH3_R_4)
            with Locations((20.955, 78.74)):
                Circle(SKETCH3_R_4)
            with Locations((15.875, 78.74)):
                Circle(SKETCH3_R_4)
        extrude(amount=-MOUNTING_HOLES_DEPTH, mode=Mode.SUBTRACT)

    # Sketch4 → notches (add)
    with SkipClean():  # the faces are left unmerged after this step: merging them gives an invalid solid
        with BuildSketch(Plane(origin=(0, 132.715, 0), x_dir=(1, 0, 0), z_dir=(0, 1, 0))):
            with Locations((0, 17.533936107)):
                Rectangle(SKETCH4_W, SKETCH4_H)
            with Locations((0, -17.533936107)):
                Rectangle(SKETCH4_W, SKETCH4_H)
        extrude(amount=NOTCHES_DEPTH)

    # Sketch7 → switch_face (add)
    with SkipClean():  # the faces are left unmerged after this step: merging them gives an invalid solid
        with BuildSketch(Plane(origin=(0, 5.715, 0), x_dir=(1, 0, 0), z_dir=(0, 1, 0)).offset(SWITCH_FACE_START)):
            with BuildLine():
                Line((13.294067854, -18.985896507), (14.568841483, -20.806461925))
                ThreePointArc((14.568841483, -20.806461925), (16.4238949, -19.375646475), (18.139228208, -17.78))
                Line((18.139228208, -17.78), (18.139228208, 17.78))
                ThreePointArc((18.139228208, 17.78), (16.4238949, 19.375646475), (14.568841483, 20.806461925))
                Line((14.568841483, 20.806461925), (13.294067854, 18.985896507))
                ThreePointArc((13.294067854, 18.985896507), (14.476024797, 18.100862199), (15.599228208, 17.142362309))
                Line((15.599228208, 17.142362309), (15.599228208, -17.142362309))
                ThreePointArc((15.599228208, -17.142362309), (14.476024797, -18.100862199), (13.294067854, -18.985896507))
            make_face()
        extrude(amount=-SWITCH_FACE_DEPTH)

    # Sketch8 → switch_mount (cut)
    with SkipClean():  # the faces are left unmerged after this step: merging them gives an invalid solid
        with BuildSketch(Plane(origin=(18.139228208, 0, 0), x_dir=(0, 0, -1), z_dir=(1, 0, 0))):
            with Locations((14.732, 7.239)):
                Circle(SKETCH8_R)
            with Locations((-14.732, 7.239)):
                Circle(SKETCH8_R)
            with Locations((0, 7.239)):
                Rectangle(SKETCH8_W, SKETCH8_H)
        extrude(amount=-SWITCH_MOUNT_DEPTH, mode=Mode.SUBTRACT)

    # Sketch8<3> → indicator_cut (cut)
    with SkipClean():  # the faces are left unmerged after this step: merging them gives an invalid solid
        with BuildSketch(Plane(origin=(18.139228208, 0, 0), x_dir=(0, 0, -1), z_dir=(1, 0, 0)).offset(INDICATOR_CUT_START)):
            with Locations(Location((0, 2.032, 0), (0, 0, 270))):
                Circle(SKETCH8_3_R)
        extrude(amount=INDICATOR_CUT_DEPTH, mode=Mode.SUBTRACT)


solid = part.part
